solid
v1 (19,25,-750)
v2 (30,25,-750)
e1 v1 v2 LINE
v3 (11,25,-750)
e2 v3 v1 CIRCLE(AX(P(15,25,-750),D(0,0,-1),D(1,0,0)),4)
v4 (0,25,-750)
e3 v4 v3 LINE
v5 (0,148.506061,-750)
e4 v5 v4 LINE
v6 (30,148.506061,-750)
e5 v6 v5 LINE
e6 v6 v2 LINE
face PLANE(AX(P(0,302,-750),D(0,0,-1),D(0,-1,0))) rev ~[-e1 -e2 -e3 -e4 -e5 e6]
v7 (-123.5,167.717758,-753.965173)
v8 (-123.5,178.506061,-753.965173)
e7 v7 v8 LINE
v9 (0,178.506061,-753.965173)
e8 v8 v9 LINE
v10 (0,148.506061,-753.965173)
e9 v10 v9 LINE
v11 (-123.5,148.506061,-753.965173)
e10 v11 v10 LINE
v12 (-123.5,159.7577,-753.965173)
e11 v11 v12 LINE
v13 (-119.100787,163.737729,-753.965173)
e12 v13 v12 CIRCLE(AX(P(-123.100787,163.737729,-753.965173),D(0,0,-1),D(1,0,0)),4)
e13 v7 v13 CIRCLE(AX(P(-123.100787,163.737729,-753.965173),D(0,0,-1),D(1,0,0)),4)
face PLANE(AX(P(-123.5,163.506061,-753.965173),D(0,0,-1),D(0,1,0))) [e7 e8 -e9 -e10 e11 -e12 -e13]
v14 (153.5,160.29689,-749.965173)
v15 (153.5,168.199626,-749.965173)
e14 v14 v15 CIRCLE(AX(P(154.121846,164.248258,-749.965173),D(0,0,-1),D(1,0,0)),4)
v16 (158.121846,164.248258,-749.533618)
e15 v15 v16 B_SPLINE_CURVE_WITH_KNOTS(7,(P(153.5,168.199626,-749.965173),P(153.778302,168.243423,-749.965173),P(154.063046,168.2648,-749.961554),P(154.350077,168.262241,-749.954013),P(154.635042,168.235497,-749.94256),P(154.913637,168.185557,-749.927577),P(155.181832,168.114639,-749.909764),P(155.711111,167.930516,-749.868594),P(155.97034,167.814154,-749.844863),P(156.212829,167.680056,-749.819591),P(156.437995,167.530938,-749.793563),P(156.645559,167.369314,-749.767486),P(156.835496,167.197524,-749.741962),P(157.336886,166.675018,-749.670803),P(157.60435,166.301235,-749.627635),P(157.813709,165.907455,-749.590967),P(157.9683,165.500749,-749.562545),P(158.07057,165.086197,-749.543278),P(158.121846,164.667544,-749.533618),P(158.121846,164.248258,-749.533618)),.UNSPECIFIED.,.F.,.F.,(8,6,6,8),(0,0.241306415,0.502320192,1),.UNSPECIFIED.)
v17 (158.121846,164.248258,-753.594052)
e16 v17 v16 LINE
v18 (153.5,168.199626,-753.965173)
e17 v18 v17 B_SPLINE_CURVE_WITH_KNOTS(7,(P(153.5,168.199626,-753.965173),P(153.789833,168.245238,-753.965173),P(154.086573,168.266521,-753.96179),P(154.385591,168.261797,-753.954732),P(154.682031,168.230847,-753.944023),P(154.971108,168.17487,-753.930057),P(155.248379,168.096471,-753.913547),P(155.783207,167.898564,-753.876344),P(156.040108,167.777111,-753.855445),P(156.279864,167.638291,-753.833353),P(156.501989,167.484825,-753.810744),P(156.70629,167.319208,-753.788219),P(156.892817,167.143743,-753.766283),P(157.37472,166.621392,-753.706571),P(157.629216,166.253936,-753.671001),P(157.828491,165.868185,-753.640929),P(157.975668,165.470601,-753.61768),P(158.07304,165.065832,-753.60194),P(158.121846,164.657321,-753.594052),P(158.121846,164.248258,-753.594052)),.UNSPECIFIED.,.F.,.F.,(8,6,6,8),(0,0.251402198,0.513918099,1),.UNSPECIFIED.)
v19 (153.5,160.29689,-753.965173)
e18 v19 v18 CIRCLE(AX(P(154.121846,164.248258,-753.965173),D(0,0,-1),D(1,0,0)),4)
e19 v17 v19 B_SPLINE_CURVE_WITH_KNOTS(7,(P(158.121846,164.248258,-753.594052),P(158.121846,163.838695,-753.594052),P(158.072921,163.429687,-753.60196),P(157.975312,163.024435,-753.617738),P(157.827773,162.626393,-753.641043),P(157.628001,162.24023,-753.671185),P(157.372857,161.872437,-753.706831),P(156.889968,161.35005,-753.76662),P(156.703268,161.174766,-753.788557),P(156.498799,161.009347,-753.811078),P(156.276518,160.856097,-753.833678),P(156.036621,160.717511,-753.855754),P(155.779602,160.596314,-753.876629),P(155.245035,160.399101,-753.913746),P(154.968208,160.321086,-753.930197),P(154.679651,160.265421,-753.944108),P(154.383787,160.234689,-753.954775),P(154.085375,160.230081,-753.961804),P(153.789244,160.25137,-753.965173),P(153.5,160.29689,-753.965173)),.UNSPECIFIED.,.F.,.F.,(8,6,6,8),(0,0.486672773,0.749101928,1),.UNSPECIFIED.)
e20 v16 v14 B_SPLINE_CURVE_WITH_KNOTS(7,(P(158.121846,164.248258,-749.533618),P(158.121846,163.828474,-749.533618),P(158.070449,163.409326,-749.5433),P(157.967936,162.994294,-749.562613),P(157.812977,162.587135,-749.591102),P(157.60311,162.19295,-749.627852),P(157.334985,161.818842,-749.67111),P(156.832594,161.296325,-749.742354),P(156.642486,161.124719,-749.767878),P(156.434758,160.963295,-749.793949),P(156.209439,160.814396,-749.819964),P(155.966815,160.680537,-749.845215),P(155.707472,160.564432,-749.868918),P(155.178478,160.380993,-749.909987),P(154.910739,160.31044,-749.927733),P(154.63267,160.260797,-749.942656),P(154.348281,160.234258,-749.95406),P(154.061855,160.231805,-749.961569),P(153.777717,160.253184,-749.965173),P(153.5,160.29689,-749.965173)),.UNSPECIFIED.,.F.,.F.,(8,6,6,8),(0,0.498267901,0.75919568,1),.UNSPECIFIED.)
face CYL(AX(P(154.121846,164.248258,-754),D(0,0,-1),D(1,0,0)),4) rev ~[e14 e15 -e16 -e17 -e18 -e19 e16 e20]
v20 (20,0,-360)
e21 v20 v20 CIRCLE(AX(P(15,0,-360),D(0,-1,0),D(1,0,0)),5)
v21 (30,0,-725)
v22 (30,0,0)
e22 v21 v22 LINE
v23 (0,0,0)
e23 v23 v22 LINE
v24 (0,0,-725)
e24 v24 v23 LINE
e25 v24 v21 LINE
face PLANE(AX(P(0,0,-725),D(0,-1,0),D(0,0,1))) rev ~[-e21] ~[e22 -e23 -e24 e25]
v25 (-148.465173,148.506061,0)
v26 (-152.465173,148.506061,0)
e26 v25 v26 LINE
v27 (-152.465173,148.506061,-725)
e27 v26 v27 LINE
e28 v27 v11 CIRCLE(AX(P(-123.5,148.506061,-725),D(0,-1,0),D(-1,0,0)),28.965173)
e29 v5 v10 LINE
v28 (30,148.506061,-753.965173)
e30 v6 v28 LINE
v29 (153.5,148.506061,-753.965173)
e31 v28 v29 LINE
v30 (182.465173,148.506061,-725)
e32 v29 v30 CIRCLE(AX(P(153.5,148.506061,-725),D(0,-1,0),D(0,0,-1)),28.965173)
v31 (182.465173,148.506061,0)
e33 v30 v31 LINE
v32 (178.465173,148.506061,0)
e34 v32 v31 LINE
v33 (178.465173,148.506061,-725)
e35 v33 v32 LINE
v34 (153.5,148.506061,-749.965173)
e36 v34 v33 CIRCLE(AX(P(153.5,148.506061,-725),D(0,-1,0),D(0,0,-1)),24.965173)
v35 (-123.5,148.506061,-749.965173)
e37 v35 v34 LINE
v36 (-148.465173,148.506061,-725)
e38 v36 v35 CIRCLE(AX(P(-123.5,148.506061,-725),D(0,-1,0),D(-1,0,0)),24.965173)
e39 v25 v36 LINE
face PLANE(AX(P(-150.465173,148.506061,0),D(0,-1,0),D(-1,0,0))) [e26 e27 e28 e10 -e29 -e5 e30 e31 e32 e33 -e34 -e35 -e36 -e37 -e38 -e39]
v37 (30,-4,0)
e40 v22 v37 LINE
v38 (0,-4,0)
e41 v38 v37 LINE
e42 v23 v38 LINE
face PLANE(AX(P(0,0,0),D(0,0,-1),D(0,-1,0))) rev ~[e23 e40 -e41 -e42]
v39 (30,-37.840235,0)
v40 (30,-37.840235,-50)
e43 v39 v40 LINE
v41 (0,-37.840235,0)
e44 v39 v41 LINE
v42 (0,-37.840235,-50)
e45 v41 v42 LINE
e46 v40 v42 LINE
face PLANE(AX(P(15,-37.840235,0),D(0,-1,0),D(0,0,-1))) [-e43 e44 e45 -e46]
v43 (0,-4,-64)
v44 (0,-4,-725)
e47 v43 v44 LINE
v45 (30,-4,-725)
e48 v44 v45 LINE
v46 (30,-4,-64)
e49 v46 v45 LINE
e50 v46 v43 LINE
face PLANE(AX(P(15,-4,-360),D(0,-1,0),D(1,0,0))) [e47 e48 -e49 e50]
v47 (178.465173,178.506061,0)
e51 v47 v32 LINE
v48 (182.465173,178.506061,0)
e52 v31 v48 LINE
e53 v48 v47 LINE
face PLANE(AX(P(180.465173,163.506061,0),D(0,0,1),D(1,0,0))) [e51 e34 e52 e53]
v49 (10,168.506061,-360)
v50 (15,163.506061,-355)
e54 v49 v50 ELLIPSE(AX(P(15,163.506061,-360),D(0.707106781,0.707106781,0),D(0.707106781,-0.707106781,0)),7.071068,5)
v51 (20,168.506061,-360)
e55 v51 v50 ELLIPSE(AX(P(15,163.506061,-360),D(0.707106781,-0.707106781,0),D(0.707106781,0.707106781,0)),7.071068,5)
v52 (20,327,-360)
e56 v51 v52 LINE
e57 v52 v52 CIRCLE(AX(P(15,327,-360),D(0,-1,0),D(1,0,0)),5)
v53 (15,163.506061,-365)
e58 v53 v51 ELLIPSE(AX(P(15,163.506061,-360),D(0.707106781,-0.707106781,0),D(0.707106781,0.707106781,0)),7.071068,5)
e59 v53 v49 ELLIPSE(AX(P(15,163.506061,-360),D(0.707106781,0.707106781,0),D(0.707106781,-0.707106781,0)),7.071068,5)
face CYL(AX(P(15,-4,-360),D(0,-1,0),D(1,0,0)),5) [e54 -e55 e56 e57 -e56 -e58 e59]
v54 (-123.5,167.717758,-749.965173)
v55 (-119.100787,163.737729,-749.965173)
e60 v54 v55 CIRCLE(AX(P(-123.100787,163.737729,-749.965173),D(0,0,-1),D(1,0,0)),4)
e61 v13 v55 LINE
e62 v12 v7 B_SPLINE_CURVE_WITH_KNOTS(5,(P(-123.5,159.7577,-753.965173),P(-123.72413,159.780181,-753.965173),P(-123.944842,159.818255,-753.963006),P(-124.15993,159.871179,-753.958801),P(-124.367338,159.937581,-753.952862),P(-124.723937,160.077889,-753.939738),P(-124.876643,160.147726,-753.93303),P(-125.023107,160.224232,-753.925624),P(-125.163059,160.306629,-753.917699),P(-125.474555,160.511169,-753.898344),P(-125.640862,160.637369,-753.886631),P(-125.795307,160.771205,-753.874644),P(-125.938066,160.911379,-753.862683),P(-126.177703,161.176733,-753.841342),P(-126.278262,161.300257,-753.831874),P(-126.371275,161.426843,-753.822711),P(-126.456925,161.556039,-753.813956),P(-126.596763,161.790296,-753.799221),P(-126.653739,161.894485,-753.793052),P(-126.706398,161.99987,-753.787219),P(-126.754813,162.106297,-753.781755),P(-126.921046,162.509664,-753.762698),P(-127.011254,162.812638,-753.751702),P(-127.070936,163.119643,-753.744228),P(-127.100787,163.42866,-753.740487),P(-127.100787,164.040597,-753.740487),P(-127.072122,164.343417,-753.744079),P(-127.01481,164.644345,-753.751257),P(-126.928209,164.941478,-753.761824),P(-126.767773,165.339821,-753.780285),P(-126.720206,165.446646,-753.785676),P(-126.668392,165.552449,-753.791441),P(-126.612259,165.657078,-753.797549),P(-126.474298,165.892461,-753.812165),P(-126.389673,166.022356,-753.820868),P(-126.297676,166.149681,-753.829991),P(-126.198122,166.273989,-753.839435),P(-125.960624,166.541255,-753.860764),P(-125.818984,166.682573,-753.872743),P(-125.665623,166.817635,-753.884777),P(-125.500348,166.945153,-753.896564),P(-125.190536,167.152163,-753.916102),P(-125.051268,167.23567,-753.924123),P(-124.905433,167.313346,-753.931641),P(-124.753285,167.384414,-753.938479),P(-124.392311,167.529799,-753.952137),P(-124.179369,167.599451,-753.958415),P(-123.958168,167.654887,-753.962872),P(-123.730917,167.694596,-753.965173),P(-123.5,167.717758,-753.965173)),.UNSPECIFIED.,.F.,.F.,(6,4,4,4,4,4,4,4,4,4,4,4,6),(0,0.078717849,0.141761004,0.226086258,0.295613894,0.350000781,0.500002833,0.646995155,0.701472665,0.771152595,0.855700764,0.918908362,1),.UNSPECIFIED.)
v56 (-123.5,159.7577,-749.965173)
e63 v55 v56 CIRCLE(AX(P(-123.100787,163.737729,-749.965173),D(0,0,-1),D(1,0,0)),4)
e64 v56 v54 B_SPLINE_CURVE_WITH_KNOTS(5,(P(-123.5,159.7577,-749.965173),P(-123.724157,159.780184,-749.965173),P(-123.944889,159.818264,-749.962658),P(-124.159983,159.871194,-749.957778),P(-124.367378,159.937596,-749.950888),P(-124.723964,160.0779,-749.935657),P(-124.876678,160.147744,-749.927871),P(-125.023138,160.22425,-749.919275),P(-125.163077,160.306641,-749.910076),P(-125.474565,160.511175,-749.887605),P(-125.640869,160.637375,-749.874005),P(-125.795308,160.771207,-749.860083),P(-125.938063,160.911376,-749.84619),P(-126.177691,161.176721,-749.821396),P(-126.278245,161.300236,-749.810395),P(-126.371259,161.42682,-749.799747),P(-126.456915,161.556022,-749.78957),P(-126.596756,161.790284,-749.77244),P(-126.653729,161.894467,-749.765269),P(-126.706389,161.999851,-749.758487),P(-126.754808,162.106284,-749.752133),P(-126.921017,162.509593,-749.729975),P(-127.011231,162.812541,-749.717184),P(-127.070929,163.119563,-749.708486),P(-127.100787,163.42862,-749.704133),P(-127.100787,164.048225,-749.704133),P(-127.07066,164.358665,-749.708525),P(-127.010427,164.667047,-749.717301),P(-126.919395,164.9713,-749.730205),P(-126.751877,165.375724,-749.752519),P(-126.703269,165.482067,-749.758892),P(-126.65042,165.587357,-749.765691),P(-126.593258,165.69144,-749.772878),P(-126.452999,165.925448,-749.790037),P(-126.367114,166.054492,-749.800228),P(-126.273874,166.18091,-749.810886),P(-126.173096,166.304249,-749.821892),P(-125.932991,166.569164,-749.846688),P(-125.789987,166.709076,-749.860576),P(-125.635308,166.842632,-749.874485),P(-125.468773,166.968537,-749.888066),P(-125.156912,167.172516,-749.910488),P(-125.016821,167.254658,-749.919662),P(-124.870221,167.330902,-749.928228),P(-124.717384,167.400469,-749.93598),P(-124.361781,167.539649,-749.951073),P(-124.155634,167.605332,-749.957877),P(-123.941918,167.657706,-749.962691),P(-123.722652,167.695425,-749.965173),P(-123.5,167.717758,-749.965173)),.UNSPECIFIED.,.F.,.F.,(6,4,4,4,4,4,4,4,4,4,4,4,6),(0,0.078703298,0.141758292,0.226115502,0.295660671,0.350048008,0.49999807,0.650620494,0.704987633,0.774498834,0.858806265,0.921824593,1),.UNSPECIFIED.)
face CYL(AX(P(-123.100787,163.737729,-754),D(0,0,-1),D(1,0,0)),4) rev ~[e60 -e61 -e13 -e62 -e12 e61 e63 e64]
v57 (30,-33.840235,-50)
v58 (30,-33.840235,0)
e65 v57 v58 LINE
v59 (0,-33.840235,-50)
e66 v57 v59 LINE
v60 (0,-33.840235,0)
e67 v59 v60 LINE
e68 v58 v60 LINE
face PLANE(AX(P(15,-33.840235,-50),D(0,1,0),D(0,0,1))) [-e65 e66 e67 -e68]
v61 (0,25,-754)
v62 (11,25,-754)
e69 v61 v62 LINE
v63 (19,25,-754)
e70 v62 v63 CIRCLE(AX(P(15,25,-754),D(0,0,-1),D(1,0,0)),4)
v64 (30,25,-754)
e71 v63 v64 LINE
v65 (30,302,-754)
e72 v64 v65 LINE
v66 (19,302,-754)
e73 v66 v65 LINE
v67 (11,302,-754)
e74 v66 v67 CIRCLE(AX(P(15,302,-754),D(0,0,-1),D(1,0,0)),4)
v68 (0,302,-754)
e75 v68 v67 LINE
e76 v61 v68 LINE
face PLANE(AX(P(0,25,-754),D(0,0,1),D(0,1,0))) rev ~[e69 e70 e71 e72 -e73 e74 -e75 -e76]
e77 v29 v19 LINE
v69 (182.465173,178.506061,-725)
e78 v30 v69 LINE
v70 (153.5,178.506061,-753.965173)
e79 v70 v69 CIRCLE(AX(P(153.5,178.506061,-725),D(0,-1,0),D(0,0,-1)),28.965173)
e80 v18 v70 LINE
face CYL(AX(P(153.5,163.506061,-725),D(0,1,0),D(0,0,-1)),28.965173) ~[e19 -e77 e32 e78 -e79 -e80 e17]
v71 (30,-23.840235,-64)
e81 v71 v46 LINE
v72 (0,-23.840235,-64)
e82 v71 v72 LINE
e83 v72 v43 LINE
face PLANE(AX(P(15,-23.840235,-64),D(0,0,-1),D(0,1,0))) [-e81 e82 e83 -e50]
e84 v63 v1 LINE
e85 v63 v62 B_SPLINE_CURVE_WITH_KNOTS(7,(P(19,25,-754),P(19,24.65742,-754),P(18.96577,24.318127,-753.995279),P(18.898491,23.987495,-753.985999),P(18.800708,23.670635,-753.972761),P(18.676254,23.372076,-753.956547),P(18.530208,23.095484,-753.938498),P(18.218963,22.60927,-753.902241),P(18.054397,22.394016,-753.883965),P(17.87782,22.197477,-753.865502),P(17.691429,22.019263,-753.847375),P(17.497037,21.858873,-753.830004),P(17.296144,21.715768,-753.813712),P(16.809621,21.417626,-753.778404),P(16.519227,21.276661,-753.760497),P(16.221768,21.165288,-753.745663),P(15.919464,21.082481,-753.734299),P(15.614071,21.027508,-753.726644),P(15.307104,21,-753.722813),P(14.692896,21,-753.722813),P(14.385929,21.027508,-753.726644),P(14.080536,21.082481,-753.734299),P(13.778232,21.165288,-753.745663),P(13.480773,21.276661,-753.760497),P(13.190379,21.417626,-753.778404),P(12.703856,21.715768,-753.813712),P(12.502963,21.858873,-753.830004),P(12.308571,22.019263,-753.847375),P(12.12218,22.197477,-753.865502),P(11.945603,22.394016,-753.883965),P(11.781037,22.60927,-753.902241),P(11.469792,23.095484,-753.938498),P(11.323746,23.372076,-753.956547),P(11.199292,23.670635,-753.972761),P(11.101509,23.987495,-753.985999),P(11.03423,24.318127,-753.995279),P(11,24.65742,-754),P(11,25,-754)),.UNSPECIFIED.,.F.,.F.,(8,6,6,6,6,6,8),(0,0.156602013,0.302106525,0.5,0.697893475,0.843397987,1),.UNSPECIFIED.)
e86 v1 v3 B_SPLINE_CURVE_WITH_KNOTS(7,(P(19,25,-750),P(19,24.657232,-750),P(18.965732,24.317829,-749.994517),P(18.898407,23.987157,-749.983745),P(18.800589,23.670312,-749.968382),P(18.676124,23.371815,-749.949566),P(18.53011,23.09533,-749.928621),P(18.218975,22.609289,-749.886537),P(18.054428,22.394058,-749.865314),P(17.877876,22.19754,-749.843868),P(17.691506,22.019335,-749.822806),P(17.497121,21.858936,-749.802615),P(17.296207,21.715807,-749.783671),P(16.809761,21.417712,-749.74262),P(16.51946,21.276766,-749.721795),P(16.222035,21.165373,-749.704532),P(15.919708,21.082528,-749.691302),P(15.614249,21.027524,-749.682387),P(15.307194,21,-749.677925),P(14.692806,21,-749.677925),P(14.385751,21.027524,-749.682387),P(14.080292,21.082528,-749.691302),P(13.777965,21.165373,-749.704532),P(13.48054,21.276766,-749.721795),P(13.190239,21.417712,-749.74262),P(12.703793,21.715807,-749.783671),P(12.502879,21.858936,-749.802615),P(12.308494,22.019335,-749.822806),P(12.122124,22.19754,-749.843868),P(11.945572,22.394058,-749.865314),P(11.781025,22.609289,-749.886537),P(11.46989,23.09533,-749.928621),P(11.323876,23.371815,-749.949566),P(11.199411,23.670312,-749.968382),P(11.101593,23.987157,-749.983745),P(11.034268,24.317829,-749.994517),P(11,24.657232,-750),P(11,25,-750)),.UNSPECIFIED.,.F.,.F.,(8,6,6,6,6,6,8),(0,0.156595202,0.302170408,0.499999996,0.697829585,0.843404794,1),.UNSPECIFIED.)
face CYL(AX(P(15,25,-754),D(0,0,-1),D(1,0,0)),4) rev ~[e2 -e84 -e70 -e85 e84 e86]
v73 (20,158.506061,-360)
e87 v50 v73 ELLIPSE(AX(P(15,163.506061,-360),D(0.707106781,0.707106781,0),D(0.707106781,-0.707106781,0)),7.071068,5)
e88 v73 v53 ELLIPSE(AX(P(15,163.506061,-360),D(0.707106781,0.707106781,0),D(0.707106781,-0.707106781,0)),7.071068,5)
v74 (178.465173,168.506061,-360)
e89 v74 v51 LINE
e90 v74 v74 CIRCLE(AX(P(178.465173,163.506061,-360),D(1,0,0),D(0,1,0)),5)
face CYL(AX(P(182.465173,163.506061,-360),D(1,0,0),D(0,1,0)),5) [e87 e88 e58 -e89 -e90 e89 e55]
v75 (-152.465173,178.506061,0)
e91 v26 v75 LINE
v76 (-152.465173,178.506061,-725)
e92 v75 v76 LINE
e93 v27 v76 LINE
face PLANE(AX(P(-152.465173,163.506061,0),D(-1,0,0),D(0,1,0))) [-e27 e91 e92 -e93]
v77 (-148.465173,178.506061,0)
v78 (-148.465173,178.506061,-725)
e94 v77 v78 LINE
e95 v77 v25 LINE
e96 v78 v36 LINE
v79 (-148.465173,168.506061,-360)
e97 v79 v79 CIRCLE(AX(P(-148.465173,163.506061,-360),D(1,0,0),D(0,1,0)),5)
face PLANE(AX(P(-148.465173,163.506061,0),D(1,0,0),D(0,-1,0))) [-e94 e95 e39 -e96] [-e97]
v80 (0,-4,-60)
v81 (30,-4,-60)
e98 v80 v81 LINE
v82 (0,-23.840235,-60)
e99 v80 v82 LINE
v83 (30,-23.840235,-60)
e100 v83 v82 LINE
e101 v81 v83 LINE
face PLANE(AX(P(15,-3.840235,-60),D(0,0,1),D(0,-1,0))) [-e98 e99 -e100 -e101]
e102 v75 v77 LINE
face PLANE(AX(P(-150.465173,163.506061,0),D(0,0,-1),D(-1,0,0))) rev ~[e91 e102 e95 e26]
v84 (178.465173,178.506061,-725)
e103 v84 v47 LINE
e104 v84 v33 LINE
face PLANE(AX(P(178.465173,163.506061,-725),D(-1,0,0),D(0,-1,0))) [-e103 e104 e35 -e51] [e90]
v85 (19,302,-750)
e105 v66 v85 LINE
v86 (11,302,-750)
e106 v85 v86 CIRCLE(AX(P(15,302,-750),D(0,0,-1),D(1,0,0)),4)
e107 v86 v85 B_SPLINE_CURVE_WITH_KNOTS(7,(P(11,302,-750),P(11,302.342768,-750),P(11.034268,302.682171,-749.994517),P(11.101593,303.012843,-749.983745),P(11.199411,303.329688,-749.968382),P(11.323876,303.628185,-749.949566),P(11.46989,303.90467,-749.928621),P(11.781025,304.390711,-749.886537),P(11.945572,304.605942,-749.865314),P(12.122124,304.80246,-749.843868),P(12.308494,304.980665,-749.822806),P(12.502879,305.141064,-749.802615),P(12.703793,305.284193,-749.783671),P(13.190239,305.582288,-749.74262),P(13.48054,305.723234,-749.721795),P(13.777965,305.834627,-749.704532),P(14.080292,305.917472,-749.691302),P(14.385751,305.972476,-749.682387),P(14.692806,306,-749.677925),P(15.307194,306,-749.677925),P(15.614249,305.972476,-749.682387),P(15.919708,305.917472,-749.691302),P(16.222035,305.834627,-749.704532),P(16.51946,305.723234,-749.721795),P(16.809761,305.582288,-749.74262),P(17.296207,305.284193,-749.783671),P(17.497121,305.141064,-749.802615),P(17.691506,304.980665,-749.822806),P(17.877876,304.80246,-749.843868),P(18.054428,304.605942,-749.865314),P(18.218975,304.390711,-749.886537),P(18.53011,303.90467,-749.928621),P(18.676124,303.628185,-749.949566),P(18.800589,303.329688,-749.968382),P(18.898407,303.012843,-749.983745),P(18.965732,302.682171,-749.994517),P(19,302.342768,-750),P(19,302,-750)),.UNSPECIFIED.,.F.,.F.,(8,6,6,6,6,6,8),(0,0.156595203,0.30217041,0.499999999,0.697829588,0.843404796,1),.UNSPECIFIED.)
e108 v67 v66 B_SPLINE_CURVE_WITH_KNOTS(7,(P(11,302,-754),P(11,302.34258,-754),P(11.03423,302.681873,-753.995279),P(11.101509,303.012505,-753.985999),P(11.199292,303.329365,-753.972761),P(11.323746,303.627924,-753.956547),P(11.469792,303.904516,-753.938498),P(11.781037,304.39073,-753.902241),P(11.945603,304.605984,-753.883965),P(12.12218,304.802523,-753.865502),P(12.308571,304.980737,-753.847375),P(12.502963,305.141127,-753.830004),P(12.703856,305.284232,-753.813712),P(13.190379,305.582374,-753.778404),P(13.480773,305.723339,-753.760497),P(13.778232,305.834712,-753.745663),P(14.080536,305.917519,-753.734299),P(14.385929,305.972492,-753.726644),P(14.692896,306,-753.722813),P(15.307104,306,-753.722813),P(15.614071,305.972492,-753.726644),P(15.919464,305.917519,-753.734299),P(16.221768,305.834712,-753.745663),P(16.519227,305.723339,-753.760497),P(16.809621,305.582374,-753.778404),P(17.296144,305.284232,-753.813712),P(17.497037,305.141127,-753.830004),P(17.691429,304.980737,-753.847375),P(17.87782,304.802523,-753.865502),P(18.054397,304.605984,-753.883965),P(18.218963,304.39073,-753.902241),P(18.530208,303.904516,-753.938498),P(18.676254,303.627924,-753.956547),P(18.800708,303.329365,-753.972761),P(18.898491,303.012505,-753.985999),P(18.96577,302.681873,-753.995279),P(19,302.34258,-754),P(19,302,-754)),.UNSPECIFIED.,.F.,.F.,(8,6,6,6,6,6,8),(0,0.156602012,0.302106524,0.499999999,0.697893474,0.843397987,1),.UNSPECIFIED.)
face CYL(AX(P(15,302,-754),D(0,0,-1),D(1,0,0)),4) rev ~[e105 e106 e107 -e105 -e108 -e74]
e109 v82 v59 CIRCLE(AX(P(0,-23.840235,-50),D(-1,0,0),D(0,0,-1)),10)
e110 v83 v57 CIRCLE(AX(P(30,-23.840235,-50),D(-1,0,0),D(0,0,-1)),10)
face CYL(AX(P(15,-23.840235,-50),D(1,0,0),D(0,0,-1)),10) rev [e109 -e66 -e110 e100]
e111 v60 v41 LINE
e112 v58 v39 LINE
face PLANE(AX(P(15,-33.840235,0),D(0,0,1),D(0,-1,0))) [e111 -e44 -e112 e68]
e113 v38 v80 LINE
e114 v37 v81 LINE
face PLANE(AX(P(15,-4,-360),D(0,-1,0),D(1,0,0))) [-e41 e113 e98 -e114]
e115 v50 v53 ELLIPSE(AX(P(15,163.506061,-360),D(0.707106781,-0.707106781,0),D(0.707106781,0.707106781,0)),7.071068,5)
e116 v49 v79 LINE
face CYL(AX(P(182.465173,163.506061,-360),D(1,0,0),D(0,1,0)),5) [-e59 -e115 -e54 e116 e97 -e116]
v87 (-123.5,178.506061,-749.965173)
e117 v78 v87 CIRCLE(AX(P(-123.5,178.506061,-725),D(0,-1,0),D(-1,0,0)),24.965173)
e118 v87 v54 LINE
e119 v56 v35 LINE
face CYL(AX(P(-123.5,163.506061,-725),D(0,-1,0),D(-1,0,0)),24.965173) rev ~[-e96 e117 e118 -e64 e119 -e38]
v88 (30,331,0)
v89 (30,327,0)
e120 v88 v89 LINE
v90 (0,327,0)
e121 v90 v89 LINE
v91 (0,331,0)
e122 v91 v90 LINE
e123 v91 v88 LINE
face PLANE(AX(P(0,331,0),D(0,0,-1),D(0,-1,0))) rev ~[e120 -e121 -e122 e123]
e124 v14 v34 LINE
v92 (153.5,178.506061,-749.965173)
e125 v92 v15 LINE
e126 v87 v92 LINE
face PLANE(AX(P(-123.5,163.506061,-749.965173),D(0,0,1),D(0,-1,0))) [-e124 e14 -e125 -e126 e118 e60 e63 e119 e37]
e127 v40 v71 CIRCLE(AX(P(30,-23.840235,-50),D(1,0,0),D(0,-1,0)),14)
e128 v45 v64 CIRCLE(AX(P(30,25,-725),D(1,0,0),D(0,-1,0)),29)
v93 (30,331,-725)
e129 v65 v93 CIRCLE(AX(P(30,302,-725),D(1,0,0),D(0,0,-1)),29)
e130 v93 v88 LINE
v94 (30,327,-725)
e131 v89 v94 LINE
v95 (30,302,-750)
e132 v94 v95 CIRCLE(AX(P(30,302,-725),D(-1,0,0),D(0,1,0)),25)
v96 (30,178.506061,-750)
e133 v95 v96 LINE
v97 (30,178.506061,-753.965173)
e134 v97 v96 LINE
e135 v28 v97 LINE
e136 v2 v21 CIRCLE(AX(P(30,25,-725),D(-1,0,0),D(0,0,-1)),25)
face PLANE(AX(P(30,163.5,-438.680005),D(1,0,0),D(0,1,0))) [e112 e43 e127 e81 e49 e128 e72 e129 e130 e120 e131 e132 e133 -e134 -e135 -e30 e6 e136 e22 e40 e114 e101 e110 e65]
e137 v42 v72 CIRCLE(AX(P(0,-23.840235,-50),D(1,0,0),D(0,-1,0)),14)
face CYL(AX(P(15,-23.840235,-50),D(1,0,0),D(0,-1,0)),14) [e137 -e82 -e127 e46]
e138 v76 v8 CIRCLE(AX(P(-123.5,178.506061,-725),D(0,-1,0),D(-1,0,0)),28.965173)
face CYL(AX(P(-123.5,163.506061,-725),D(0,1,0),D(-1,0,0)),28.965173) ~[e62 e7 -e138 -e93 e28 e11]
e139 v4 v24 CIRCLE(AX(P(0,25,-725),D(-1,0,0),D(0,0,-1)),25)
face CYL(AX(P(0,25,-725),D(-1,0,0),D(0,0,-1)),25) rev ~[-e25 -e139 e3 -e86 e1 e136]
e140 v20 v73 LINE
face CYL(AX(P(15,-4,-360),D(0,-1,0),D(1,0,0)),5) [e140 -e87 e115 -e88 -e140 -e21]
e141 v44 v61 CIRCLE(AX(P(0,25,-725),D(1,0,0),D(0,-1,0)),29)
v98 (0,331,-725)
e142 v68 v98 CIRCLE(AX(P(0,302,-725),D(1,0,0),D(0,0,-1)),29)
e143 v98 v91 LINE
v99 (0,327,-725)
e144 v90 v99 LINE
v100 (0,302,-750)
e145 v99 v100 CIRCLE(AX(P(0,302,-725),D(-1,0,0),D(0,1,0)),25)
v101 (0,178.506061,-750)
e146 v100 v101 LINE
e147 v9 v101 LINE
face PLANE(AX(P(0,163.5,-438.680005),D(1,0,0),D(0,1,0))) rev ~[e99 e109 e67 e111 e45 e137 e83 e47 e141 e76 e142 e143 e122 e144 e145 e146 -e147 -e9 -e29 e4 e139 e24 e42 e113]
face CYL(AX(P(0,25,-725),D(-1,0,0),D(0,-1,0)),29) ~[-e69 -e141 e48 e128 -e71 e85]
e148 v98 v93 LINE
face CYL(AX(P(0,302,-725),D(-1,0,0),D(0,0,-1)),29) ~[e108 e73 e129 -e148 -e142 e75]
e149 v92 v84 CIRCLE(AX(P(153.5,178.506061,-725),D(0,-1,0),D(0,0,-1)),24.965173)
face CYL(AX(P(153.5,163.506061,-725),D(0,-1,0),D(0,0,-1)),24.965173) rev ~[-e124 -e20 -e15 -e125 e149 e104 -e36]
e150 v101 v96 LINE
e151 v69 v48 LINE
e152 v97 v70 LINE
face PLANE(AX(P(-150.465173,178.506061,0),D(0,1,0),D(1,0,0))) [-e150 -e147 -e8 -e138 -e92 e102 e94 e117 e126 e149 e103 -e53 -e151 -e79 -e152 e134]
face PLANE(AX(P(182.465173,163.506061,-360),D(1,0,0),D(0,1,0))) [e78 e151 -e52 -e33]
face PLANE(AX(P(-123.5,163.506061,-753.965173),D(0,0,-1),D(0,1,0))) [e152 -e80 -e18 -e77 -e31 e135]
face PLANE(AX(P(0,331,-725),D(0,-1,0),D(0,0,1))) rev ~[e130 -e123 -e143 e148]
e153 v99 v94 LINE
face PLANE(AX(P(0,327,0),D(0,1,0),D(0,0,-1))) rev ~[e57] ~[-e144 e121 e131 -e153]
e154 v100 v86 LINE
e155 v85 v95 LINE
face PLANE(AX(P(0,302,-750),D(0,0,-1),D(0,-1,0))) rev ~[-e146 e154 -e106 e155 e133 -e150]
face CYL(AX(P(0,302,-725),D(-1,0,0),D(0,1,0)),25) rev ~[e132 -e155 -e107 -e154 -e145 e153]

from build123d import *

# Parameters (mm, degrees)
F1_DEPTH       = 30
F4_W           = 30
F4_H           = 4
F7_R           = 5
F8_DEPTH       = 334
F9_R           = 5
F10_DEPTH      = 334
F11_R          = 4
F12_DEPTH      = 25
F14_DEPTH      = 15
F14_DEPTH_BACK = 15


with BuildPart() as f1:
    # F0 (on Right) → F1 (new body)
    with BuildSketch(Plane.YZ):
        with BuildLine():
            Line((0, -725), (0, 0))
            Line((0, 0), (-4, 0))
            Line((-4, 0), (-4, -725))
            ThreePointArc((-4, -725), (4.4939033456, -745.5060966544), (25, -754))
            Line((25, -754), (302, -754))
            ThreePointArc((302, -754), (322.5060966544, -745.5060966544), (331, -725))
            Line((331, -725), (331, 0))
            Line((331, 0), (327, 0))
            Line((327, 0), (327, -725))
            ThreePointArc((327, -725), (319.6776695297, -742.6776695297), (302, -750))
            Line((302, -750), (25, -750))
            ThreePointArc((25, -750), (7.3223304703, -742.6776695297), (0, -725))
        make_face()
    extrude(amount=F1_DEPTH)

    # F6: sweep along a path in F5
    with BuildLine(Plane.XZ.offset(-148.5)) as f6_path:
        Line((-148.5, 0), (-148.5, -725))
        ThreePointArc((-148.5, -725), (-141.1776695297, -742.6776695297), (-123.5, -750))
        Line((-123.5, -750), (153.5, -750))
        ThreePointArc((153.5, -750), (171.1776695297, -742.6776695297), (178.5, -725))
        Line((178.5, -725), (178.5, 0))
    # F4 (on offset) → F6 (sweep)
    with BuildSketch(Plane.YZ.offset(15)):
        with Locations((163.5060608387, -751.9651731714)):
            Rectangle(F4_W, F4_H)
    sweep(path=f6_path.line)

    # F7 (on face) → F8 (join)
    with BuildSketch(Plane.YZ.offset(182.4651731714)):
        with Locations((163.5060608387, -360)):
            Circle(F7_R)
    extrude(amount=-F8_DEPTH)

    # F9 (on face) → F10 (join)
    with BuildSketch(Plane.XZ.offset(4)):
        with Locations((15, -360)):
            Circle(F9_R)
    extrude(amount=-F10_DEPTH)

    # F11 (on face) → F12 (cut)
    with BuildSketch(Plane(origin=(0, 0, -754), x_dir=(1, 0, 0), z_dir=(0, 0, -1))):
        with Locations((15, -25)):
            Circle(F11_R)
        with Locations((15, -302)):
            Circle(F11_R)
        with Locations((-123.1007874012, -163.7377291918)):
            Circle(F11_R)
        with Locations((154.1218459606, -164.2482578754)):
            Circle(F11_R)
    extrude(amount=-F12_DEPTH, mode=Mode.SUBTRACT)

    # F13 (on offset) → F14 (join, two sides)
    with BuildSketch(Plane.YZ.offset(15)) as f14_sk:
        with BuildLine():
            Line((-3.8402353227, -64), (-3.8402353227, -60))
            Line((-3.8402353227, -60), (-23.8402353227, -60))
            ThreePointArc((-23.8402353227, -60), (-30.9113031346, -57.0710678119), (-33.8402353227, -50))
            Line((-33.8402353227, -50), (-33.8402353227, 0))
            Line((-33.8402353227, 0), (-37.8402353227, 0))
            Line((-37.8402353227, 0), (-37.8402353227, -50))
            ThreePointArc((-37.8402353227, -50), (-33.7397302593, -59.8994949366), (-23.8402353227, -64))
            Line((-23.8402353227, -64), (-3.8402353227, -64))
        make_face()
    extrude(amount=F14_DEPTH)
    extrude(f14_sk.sketch, amount=-F14_DEPTH_BACK)


solid = f1.part
